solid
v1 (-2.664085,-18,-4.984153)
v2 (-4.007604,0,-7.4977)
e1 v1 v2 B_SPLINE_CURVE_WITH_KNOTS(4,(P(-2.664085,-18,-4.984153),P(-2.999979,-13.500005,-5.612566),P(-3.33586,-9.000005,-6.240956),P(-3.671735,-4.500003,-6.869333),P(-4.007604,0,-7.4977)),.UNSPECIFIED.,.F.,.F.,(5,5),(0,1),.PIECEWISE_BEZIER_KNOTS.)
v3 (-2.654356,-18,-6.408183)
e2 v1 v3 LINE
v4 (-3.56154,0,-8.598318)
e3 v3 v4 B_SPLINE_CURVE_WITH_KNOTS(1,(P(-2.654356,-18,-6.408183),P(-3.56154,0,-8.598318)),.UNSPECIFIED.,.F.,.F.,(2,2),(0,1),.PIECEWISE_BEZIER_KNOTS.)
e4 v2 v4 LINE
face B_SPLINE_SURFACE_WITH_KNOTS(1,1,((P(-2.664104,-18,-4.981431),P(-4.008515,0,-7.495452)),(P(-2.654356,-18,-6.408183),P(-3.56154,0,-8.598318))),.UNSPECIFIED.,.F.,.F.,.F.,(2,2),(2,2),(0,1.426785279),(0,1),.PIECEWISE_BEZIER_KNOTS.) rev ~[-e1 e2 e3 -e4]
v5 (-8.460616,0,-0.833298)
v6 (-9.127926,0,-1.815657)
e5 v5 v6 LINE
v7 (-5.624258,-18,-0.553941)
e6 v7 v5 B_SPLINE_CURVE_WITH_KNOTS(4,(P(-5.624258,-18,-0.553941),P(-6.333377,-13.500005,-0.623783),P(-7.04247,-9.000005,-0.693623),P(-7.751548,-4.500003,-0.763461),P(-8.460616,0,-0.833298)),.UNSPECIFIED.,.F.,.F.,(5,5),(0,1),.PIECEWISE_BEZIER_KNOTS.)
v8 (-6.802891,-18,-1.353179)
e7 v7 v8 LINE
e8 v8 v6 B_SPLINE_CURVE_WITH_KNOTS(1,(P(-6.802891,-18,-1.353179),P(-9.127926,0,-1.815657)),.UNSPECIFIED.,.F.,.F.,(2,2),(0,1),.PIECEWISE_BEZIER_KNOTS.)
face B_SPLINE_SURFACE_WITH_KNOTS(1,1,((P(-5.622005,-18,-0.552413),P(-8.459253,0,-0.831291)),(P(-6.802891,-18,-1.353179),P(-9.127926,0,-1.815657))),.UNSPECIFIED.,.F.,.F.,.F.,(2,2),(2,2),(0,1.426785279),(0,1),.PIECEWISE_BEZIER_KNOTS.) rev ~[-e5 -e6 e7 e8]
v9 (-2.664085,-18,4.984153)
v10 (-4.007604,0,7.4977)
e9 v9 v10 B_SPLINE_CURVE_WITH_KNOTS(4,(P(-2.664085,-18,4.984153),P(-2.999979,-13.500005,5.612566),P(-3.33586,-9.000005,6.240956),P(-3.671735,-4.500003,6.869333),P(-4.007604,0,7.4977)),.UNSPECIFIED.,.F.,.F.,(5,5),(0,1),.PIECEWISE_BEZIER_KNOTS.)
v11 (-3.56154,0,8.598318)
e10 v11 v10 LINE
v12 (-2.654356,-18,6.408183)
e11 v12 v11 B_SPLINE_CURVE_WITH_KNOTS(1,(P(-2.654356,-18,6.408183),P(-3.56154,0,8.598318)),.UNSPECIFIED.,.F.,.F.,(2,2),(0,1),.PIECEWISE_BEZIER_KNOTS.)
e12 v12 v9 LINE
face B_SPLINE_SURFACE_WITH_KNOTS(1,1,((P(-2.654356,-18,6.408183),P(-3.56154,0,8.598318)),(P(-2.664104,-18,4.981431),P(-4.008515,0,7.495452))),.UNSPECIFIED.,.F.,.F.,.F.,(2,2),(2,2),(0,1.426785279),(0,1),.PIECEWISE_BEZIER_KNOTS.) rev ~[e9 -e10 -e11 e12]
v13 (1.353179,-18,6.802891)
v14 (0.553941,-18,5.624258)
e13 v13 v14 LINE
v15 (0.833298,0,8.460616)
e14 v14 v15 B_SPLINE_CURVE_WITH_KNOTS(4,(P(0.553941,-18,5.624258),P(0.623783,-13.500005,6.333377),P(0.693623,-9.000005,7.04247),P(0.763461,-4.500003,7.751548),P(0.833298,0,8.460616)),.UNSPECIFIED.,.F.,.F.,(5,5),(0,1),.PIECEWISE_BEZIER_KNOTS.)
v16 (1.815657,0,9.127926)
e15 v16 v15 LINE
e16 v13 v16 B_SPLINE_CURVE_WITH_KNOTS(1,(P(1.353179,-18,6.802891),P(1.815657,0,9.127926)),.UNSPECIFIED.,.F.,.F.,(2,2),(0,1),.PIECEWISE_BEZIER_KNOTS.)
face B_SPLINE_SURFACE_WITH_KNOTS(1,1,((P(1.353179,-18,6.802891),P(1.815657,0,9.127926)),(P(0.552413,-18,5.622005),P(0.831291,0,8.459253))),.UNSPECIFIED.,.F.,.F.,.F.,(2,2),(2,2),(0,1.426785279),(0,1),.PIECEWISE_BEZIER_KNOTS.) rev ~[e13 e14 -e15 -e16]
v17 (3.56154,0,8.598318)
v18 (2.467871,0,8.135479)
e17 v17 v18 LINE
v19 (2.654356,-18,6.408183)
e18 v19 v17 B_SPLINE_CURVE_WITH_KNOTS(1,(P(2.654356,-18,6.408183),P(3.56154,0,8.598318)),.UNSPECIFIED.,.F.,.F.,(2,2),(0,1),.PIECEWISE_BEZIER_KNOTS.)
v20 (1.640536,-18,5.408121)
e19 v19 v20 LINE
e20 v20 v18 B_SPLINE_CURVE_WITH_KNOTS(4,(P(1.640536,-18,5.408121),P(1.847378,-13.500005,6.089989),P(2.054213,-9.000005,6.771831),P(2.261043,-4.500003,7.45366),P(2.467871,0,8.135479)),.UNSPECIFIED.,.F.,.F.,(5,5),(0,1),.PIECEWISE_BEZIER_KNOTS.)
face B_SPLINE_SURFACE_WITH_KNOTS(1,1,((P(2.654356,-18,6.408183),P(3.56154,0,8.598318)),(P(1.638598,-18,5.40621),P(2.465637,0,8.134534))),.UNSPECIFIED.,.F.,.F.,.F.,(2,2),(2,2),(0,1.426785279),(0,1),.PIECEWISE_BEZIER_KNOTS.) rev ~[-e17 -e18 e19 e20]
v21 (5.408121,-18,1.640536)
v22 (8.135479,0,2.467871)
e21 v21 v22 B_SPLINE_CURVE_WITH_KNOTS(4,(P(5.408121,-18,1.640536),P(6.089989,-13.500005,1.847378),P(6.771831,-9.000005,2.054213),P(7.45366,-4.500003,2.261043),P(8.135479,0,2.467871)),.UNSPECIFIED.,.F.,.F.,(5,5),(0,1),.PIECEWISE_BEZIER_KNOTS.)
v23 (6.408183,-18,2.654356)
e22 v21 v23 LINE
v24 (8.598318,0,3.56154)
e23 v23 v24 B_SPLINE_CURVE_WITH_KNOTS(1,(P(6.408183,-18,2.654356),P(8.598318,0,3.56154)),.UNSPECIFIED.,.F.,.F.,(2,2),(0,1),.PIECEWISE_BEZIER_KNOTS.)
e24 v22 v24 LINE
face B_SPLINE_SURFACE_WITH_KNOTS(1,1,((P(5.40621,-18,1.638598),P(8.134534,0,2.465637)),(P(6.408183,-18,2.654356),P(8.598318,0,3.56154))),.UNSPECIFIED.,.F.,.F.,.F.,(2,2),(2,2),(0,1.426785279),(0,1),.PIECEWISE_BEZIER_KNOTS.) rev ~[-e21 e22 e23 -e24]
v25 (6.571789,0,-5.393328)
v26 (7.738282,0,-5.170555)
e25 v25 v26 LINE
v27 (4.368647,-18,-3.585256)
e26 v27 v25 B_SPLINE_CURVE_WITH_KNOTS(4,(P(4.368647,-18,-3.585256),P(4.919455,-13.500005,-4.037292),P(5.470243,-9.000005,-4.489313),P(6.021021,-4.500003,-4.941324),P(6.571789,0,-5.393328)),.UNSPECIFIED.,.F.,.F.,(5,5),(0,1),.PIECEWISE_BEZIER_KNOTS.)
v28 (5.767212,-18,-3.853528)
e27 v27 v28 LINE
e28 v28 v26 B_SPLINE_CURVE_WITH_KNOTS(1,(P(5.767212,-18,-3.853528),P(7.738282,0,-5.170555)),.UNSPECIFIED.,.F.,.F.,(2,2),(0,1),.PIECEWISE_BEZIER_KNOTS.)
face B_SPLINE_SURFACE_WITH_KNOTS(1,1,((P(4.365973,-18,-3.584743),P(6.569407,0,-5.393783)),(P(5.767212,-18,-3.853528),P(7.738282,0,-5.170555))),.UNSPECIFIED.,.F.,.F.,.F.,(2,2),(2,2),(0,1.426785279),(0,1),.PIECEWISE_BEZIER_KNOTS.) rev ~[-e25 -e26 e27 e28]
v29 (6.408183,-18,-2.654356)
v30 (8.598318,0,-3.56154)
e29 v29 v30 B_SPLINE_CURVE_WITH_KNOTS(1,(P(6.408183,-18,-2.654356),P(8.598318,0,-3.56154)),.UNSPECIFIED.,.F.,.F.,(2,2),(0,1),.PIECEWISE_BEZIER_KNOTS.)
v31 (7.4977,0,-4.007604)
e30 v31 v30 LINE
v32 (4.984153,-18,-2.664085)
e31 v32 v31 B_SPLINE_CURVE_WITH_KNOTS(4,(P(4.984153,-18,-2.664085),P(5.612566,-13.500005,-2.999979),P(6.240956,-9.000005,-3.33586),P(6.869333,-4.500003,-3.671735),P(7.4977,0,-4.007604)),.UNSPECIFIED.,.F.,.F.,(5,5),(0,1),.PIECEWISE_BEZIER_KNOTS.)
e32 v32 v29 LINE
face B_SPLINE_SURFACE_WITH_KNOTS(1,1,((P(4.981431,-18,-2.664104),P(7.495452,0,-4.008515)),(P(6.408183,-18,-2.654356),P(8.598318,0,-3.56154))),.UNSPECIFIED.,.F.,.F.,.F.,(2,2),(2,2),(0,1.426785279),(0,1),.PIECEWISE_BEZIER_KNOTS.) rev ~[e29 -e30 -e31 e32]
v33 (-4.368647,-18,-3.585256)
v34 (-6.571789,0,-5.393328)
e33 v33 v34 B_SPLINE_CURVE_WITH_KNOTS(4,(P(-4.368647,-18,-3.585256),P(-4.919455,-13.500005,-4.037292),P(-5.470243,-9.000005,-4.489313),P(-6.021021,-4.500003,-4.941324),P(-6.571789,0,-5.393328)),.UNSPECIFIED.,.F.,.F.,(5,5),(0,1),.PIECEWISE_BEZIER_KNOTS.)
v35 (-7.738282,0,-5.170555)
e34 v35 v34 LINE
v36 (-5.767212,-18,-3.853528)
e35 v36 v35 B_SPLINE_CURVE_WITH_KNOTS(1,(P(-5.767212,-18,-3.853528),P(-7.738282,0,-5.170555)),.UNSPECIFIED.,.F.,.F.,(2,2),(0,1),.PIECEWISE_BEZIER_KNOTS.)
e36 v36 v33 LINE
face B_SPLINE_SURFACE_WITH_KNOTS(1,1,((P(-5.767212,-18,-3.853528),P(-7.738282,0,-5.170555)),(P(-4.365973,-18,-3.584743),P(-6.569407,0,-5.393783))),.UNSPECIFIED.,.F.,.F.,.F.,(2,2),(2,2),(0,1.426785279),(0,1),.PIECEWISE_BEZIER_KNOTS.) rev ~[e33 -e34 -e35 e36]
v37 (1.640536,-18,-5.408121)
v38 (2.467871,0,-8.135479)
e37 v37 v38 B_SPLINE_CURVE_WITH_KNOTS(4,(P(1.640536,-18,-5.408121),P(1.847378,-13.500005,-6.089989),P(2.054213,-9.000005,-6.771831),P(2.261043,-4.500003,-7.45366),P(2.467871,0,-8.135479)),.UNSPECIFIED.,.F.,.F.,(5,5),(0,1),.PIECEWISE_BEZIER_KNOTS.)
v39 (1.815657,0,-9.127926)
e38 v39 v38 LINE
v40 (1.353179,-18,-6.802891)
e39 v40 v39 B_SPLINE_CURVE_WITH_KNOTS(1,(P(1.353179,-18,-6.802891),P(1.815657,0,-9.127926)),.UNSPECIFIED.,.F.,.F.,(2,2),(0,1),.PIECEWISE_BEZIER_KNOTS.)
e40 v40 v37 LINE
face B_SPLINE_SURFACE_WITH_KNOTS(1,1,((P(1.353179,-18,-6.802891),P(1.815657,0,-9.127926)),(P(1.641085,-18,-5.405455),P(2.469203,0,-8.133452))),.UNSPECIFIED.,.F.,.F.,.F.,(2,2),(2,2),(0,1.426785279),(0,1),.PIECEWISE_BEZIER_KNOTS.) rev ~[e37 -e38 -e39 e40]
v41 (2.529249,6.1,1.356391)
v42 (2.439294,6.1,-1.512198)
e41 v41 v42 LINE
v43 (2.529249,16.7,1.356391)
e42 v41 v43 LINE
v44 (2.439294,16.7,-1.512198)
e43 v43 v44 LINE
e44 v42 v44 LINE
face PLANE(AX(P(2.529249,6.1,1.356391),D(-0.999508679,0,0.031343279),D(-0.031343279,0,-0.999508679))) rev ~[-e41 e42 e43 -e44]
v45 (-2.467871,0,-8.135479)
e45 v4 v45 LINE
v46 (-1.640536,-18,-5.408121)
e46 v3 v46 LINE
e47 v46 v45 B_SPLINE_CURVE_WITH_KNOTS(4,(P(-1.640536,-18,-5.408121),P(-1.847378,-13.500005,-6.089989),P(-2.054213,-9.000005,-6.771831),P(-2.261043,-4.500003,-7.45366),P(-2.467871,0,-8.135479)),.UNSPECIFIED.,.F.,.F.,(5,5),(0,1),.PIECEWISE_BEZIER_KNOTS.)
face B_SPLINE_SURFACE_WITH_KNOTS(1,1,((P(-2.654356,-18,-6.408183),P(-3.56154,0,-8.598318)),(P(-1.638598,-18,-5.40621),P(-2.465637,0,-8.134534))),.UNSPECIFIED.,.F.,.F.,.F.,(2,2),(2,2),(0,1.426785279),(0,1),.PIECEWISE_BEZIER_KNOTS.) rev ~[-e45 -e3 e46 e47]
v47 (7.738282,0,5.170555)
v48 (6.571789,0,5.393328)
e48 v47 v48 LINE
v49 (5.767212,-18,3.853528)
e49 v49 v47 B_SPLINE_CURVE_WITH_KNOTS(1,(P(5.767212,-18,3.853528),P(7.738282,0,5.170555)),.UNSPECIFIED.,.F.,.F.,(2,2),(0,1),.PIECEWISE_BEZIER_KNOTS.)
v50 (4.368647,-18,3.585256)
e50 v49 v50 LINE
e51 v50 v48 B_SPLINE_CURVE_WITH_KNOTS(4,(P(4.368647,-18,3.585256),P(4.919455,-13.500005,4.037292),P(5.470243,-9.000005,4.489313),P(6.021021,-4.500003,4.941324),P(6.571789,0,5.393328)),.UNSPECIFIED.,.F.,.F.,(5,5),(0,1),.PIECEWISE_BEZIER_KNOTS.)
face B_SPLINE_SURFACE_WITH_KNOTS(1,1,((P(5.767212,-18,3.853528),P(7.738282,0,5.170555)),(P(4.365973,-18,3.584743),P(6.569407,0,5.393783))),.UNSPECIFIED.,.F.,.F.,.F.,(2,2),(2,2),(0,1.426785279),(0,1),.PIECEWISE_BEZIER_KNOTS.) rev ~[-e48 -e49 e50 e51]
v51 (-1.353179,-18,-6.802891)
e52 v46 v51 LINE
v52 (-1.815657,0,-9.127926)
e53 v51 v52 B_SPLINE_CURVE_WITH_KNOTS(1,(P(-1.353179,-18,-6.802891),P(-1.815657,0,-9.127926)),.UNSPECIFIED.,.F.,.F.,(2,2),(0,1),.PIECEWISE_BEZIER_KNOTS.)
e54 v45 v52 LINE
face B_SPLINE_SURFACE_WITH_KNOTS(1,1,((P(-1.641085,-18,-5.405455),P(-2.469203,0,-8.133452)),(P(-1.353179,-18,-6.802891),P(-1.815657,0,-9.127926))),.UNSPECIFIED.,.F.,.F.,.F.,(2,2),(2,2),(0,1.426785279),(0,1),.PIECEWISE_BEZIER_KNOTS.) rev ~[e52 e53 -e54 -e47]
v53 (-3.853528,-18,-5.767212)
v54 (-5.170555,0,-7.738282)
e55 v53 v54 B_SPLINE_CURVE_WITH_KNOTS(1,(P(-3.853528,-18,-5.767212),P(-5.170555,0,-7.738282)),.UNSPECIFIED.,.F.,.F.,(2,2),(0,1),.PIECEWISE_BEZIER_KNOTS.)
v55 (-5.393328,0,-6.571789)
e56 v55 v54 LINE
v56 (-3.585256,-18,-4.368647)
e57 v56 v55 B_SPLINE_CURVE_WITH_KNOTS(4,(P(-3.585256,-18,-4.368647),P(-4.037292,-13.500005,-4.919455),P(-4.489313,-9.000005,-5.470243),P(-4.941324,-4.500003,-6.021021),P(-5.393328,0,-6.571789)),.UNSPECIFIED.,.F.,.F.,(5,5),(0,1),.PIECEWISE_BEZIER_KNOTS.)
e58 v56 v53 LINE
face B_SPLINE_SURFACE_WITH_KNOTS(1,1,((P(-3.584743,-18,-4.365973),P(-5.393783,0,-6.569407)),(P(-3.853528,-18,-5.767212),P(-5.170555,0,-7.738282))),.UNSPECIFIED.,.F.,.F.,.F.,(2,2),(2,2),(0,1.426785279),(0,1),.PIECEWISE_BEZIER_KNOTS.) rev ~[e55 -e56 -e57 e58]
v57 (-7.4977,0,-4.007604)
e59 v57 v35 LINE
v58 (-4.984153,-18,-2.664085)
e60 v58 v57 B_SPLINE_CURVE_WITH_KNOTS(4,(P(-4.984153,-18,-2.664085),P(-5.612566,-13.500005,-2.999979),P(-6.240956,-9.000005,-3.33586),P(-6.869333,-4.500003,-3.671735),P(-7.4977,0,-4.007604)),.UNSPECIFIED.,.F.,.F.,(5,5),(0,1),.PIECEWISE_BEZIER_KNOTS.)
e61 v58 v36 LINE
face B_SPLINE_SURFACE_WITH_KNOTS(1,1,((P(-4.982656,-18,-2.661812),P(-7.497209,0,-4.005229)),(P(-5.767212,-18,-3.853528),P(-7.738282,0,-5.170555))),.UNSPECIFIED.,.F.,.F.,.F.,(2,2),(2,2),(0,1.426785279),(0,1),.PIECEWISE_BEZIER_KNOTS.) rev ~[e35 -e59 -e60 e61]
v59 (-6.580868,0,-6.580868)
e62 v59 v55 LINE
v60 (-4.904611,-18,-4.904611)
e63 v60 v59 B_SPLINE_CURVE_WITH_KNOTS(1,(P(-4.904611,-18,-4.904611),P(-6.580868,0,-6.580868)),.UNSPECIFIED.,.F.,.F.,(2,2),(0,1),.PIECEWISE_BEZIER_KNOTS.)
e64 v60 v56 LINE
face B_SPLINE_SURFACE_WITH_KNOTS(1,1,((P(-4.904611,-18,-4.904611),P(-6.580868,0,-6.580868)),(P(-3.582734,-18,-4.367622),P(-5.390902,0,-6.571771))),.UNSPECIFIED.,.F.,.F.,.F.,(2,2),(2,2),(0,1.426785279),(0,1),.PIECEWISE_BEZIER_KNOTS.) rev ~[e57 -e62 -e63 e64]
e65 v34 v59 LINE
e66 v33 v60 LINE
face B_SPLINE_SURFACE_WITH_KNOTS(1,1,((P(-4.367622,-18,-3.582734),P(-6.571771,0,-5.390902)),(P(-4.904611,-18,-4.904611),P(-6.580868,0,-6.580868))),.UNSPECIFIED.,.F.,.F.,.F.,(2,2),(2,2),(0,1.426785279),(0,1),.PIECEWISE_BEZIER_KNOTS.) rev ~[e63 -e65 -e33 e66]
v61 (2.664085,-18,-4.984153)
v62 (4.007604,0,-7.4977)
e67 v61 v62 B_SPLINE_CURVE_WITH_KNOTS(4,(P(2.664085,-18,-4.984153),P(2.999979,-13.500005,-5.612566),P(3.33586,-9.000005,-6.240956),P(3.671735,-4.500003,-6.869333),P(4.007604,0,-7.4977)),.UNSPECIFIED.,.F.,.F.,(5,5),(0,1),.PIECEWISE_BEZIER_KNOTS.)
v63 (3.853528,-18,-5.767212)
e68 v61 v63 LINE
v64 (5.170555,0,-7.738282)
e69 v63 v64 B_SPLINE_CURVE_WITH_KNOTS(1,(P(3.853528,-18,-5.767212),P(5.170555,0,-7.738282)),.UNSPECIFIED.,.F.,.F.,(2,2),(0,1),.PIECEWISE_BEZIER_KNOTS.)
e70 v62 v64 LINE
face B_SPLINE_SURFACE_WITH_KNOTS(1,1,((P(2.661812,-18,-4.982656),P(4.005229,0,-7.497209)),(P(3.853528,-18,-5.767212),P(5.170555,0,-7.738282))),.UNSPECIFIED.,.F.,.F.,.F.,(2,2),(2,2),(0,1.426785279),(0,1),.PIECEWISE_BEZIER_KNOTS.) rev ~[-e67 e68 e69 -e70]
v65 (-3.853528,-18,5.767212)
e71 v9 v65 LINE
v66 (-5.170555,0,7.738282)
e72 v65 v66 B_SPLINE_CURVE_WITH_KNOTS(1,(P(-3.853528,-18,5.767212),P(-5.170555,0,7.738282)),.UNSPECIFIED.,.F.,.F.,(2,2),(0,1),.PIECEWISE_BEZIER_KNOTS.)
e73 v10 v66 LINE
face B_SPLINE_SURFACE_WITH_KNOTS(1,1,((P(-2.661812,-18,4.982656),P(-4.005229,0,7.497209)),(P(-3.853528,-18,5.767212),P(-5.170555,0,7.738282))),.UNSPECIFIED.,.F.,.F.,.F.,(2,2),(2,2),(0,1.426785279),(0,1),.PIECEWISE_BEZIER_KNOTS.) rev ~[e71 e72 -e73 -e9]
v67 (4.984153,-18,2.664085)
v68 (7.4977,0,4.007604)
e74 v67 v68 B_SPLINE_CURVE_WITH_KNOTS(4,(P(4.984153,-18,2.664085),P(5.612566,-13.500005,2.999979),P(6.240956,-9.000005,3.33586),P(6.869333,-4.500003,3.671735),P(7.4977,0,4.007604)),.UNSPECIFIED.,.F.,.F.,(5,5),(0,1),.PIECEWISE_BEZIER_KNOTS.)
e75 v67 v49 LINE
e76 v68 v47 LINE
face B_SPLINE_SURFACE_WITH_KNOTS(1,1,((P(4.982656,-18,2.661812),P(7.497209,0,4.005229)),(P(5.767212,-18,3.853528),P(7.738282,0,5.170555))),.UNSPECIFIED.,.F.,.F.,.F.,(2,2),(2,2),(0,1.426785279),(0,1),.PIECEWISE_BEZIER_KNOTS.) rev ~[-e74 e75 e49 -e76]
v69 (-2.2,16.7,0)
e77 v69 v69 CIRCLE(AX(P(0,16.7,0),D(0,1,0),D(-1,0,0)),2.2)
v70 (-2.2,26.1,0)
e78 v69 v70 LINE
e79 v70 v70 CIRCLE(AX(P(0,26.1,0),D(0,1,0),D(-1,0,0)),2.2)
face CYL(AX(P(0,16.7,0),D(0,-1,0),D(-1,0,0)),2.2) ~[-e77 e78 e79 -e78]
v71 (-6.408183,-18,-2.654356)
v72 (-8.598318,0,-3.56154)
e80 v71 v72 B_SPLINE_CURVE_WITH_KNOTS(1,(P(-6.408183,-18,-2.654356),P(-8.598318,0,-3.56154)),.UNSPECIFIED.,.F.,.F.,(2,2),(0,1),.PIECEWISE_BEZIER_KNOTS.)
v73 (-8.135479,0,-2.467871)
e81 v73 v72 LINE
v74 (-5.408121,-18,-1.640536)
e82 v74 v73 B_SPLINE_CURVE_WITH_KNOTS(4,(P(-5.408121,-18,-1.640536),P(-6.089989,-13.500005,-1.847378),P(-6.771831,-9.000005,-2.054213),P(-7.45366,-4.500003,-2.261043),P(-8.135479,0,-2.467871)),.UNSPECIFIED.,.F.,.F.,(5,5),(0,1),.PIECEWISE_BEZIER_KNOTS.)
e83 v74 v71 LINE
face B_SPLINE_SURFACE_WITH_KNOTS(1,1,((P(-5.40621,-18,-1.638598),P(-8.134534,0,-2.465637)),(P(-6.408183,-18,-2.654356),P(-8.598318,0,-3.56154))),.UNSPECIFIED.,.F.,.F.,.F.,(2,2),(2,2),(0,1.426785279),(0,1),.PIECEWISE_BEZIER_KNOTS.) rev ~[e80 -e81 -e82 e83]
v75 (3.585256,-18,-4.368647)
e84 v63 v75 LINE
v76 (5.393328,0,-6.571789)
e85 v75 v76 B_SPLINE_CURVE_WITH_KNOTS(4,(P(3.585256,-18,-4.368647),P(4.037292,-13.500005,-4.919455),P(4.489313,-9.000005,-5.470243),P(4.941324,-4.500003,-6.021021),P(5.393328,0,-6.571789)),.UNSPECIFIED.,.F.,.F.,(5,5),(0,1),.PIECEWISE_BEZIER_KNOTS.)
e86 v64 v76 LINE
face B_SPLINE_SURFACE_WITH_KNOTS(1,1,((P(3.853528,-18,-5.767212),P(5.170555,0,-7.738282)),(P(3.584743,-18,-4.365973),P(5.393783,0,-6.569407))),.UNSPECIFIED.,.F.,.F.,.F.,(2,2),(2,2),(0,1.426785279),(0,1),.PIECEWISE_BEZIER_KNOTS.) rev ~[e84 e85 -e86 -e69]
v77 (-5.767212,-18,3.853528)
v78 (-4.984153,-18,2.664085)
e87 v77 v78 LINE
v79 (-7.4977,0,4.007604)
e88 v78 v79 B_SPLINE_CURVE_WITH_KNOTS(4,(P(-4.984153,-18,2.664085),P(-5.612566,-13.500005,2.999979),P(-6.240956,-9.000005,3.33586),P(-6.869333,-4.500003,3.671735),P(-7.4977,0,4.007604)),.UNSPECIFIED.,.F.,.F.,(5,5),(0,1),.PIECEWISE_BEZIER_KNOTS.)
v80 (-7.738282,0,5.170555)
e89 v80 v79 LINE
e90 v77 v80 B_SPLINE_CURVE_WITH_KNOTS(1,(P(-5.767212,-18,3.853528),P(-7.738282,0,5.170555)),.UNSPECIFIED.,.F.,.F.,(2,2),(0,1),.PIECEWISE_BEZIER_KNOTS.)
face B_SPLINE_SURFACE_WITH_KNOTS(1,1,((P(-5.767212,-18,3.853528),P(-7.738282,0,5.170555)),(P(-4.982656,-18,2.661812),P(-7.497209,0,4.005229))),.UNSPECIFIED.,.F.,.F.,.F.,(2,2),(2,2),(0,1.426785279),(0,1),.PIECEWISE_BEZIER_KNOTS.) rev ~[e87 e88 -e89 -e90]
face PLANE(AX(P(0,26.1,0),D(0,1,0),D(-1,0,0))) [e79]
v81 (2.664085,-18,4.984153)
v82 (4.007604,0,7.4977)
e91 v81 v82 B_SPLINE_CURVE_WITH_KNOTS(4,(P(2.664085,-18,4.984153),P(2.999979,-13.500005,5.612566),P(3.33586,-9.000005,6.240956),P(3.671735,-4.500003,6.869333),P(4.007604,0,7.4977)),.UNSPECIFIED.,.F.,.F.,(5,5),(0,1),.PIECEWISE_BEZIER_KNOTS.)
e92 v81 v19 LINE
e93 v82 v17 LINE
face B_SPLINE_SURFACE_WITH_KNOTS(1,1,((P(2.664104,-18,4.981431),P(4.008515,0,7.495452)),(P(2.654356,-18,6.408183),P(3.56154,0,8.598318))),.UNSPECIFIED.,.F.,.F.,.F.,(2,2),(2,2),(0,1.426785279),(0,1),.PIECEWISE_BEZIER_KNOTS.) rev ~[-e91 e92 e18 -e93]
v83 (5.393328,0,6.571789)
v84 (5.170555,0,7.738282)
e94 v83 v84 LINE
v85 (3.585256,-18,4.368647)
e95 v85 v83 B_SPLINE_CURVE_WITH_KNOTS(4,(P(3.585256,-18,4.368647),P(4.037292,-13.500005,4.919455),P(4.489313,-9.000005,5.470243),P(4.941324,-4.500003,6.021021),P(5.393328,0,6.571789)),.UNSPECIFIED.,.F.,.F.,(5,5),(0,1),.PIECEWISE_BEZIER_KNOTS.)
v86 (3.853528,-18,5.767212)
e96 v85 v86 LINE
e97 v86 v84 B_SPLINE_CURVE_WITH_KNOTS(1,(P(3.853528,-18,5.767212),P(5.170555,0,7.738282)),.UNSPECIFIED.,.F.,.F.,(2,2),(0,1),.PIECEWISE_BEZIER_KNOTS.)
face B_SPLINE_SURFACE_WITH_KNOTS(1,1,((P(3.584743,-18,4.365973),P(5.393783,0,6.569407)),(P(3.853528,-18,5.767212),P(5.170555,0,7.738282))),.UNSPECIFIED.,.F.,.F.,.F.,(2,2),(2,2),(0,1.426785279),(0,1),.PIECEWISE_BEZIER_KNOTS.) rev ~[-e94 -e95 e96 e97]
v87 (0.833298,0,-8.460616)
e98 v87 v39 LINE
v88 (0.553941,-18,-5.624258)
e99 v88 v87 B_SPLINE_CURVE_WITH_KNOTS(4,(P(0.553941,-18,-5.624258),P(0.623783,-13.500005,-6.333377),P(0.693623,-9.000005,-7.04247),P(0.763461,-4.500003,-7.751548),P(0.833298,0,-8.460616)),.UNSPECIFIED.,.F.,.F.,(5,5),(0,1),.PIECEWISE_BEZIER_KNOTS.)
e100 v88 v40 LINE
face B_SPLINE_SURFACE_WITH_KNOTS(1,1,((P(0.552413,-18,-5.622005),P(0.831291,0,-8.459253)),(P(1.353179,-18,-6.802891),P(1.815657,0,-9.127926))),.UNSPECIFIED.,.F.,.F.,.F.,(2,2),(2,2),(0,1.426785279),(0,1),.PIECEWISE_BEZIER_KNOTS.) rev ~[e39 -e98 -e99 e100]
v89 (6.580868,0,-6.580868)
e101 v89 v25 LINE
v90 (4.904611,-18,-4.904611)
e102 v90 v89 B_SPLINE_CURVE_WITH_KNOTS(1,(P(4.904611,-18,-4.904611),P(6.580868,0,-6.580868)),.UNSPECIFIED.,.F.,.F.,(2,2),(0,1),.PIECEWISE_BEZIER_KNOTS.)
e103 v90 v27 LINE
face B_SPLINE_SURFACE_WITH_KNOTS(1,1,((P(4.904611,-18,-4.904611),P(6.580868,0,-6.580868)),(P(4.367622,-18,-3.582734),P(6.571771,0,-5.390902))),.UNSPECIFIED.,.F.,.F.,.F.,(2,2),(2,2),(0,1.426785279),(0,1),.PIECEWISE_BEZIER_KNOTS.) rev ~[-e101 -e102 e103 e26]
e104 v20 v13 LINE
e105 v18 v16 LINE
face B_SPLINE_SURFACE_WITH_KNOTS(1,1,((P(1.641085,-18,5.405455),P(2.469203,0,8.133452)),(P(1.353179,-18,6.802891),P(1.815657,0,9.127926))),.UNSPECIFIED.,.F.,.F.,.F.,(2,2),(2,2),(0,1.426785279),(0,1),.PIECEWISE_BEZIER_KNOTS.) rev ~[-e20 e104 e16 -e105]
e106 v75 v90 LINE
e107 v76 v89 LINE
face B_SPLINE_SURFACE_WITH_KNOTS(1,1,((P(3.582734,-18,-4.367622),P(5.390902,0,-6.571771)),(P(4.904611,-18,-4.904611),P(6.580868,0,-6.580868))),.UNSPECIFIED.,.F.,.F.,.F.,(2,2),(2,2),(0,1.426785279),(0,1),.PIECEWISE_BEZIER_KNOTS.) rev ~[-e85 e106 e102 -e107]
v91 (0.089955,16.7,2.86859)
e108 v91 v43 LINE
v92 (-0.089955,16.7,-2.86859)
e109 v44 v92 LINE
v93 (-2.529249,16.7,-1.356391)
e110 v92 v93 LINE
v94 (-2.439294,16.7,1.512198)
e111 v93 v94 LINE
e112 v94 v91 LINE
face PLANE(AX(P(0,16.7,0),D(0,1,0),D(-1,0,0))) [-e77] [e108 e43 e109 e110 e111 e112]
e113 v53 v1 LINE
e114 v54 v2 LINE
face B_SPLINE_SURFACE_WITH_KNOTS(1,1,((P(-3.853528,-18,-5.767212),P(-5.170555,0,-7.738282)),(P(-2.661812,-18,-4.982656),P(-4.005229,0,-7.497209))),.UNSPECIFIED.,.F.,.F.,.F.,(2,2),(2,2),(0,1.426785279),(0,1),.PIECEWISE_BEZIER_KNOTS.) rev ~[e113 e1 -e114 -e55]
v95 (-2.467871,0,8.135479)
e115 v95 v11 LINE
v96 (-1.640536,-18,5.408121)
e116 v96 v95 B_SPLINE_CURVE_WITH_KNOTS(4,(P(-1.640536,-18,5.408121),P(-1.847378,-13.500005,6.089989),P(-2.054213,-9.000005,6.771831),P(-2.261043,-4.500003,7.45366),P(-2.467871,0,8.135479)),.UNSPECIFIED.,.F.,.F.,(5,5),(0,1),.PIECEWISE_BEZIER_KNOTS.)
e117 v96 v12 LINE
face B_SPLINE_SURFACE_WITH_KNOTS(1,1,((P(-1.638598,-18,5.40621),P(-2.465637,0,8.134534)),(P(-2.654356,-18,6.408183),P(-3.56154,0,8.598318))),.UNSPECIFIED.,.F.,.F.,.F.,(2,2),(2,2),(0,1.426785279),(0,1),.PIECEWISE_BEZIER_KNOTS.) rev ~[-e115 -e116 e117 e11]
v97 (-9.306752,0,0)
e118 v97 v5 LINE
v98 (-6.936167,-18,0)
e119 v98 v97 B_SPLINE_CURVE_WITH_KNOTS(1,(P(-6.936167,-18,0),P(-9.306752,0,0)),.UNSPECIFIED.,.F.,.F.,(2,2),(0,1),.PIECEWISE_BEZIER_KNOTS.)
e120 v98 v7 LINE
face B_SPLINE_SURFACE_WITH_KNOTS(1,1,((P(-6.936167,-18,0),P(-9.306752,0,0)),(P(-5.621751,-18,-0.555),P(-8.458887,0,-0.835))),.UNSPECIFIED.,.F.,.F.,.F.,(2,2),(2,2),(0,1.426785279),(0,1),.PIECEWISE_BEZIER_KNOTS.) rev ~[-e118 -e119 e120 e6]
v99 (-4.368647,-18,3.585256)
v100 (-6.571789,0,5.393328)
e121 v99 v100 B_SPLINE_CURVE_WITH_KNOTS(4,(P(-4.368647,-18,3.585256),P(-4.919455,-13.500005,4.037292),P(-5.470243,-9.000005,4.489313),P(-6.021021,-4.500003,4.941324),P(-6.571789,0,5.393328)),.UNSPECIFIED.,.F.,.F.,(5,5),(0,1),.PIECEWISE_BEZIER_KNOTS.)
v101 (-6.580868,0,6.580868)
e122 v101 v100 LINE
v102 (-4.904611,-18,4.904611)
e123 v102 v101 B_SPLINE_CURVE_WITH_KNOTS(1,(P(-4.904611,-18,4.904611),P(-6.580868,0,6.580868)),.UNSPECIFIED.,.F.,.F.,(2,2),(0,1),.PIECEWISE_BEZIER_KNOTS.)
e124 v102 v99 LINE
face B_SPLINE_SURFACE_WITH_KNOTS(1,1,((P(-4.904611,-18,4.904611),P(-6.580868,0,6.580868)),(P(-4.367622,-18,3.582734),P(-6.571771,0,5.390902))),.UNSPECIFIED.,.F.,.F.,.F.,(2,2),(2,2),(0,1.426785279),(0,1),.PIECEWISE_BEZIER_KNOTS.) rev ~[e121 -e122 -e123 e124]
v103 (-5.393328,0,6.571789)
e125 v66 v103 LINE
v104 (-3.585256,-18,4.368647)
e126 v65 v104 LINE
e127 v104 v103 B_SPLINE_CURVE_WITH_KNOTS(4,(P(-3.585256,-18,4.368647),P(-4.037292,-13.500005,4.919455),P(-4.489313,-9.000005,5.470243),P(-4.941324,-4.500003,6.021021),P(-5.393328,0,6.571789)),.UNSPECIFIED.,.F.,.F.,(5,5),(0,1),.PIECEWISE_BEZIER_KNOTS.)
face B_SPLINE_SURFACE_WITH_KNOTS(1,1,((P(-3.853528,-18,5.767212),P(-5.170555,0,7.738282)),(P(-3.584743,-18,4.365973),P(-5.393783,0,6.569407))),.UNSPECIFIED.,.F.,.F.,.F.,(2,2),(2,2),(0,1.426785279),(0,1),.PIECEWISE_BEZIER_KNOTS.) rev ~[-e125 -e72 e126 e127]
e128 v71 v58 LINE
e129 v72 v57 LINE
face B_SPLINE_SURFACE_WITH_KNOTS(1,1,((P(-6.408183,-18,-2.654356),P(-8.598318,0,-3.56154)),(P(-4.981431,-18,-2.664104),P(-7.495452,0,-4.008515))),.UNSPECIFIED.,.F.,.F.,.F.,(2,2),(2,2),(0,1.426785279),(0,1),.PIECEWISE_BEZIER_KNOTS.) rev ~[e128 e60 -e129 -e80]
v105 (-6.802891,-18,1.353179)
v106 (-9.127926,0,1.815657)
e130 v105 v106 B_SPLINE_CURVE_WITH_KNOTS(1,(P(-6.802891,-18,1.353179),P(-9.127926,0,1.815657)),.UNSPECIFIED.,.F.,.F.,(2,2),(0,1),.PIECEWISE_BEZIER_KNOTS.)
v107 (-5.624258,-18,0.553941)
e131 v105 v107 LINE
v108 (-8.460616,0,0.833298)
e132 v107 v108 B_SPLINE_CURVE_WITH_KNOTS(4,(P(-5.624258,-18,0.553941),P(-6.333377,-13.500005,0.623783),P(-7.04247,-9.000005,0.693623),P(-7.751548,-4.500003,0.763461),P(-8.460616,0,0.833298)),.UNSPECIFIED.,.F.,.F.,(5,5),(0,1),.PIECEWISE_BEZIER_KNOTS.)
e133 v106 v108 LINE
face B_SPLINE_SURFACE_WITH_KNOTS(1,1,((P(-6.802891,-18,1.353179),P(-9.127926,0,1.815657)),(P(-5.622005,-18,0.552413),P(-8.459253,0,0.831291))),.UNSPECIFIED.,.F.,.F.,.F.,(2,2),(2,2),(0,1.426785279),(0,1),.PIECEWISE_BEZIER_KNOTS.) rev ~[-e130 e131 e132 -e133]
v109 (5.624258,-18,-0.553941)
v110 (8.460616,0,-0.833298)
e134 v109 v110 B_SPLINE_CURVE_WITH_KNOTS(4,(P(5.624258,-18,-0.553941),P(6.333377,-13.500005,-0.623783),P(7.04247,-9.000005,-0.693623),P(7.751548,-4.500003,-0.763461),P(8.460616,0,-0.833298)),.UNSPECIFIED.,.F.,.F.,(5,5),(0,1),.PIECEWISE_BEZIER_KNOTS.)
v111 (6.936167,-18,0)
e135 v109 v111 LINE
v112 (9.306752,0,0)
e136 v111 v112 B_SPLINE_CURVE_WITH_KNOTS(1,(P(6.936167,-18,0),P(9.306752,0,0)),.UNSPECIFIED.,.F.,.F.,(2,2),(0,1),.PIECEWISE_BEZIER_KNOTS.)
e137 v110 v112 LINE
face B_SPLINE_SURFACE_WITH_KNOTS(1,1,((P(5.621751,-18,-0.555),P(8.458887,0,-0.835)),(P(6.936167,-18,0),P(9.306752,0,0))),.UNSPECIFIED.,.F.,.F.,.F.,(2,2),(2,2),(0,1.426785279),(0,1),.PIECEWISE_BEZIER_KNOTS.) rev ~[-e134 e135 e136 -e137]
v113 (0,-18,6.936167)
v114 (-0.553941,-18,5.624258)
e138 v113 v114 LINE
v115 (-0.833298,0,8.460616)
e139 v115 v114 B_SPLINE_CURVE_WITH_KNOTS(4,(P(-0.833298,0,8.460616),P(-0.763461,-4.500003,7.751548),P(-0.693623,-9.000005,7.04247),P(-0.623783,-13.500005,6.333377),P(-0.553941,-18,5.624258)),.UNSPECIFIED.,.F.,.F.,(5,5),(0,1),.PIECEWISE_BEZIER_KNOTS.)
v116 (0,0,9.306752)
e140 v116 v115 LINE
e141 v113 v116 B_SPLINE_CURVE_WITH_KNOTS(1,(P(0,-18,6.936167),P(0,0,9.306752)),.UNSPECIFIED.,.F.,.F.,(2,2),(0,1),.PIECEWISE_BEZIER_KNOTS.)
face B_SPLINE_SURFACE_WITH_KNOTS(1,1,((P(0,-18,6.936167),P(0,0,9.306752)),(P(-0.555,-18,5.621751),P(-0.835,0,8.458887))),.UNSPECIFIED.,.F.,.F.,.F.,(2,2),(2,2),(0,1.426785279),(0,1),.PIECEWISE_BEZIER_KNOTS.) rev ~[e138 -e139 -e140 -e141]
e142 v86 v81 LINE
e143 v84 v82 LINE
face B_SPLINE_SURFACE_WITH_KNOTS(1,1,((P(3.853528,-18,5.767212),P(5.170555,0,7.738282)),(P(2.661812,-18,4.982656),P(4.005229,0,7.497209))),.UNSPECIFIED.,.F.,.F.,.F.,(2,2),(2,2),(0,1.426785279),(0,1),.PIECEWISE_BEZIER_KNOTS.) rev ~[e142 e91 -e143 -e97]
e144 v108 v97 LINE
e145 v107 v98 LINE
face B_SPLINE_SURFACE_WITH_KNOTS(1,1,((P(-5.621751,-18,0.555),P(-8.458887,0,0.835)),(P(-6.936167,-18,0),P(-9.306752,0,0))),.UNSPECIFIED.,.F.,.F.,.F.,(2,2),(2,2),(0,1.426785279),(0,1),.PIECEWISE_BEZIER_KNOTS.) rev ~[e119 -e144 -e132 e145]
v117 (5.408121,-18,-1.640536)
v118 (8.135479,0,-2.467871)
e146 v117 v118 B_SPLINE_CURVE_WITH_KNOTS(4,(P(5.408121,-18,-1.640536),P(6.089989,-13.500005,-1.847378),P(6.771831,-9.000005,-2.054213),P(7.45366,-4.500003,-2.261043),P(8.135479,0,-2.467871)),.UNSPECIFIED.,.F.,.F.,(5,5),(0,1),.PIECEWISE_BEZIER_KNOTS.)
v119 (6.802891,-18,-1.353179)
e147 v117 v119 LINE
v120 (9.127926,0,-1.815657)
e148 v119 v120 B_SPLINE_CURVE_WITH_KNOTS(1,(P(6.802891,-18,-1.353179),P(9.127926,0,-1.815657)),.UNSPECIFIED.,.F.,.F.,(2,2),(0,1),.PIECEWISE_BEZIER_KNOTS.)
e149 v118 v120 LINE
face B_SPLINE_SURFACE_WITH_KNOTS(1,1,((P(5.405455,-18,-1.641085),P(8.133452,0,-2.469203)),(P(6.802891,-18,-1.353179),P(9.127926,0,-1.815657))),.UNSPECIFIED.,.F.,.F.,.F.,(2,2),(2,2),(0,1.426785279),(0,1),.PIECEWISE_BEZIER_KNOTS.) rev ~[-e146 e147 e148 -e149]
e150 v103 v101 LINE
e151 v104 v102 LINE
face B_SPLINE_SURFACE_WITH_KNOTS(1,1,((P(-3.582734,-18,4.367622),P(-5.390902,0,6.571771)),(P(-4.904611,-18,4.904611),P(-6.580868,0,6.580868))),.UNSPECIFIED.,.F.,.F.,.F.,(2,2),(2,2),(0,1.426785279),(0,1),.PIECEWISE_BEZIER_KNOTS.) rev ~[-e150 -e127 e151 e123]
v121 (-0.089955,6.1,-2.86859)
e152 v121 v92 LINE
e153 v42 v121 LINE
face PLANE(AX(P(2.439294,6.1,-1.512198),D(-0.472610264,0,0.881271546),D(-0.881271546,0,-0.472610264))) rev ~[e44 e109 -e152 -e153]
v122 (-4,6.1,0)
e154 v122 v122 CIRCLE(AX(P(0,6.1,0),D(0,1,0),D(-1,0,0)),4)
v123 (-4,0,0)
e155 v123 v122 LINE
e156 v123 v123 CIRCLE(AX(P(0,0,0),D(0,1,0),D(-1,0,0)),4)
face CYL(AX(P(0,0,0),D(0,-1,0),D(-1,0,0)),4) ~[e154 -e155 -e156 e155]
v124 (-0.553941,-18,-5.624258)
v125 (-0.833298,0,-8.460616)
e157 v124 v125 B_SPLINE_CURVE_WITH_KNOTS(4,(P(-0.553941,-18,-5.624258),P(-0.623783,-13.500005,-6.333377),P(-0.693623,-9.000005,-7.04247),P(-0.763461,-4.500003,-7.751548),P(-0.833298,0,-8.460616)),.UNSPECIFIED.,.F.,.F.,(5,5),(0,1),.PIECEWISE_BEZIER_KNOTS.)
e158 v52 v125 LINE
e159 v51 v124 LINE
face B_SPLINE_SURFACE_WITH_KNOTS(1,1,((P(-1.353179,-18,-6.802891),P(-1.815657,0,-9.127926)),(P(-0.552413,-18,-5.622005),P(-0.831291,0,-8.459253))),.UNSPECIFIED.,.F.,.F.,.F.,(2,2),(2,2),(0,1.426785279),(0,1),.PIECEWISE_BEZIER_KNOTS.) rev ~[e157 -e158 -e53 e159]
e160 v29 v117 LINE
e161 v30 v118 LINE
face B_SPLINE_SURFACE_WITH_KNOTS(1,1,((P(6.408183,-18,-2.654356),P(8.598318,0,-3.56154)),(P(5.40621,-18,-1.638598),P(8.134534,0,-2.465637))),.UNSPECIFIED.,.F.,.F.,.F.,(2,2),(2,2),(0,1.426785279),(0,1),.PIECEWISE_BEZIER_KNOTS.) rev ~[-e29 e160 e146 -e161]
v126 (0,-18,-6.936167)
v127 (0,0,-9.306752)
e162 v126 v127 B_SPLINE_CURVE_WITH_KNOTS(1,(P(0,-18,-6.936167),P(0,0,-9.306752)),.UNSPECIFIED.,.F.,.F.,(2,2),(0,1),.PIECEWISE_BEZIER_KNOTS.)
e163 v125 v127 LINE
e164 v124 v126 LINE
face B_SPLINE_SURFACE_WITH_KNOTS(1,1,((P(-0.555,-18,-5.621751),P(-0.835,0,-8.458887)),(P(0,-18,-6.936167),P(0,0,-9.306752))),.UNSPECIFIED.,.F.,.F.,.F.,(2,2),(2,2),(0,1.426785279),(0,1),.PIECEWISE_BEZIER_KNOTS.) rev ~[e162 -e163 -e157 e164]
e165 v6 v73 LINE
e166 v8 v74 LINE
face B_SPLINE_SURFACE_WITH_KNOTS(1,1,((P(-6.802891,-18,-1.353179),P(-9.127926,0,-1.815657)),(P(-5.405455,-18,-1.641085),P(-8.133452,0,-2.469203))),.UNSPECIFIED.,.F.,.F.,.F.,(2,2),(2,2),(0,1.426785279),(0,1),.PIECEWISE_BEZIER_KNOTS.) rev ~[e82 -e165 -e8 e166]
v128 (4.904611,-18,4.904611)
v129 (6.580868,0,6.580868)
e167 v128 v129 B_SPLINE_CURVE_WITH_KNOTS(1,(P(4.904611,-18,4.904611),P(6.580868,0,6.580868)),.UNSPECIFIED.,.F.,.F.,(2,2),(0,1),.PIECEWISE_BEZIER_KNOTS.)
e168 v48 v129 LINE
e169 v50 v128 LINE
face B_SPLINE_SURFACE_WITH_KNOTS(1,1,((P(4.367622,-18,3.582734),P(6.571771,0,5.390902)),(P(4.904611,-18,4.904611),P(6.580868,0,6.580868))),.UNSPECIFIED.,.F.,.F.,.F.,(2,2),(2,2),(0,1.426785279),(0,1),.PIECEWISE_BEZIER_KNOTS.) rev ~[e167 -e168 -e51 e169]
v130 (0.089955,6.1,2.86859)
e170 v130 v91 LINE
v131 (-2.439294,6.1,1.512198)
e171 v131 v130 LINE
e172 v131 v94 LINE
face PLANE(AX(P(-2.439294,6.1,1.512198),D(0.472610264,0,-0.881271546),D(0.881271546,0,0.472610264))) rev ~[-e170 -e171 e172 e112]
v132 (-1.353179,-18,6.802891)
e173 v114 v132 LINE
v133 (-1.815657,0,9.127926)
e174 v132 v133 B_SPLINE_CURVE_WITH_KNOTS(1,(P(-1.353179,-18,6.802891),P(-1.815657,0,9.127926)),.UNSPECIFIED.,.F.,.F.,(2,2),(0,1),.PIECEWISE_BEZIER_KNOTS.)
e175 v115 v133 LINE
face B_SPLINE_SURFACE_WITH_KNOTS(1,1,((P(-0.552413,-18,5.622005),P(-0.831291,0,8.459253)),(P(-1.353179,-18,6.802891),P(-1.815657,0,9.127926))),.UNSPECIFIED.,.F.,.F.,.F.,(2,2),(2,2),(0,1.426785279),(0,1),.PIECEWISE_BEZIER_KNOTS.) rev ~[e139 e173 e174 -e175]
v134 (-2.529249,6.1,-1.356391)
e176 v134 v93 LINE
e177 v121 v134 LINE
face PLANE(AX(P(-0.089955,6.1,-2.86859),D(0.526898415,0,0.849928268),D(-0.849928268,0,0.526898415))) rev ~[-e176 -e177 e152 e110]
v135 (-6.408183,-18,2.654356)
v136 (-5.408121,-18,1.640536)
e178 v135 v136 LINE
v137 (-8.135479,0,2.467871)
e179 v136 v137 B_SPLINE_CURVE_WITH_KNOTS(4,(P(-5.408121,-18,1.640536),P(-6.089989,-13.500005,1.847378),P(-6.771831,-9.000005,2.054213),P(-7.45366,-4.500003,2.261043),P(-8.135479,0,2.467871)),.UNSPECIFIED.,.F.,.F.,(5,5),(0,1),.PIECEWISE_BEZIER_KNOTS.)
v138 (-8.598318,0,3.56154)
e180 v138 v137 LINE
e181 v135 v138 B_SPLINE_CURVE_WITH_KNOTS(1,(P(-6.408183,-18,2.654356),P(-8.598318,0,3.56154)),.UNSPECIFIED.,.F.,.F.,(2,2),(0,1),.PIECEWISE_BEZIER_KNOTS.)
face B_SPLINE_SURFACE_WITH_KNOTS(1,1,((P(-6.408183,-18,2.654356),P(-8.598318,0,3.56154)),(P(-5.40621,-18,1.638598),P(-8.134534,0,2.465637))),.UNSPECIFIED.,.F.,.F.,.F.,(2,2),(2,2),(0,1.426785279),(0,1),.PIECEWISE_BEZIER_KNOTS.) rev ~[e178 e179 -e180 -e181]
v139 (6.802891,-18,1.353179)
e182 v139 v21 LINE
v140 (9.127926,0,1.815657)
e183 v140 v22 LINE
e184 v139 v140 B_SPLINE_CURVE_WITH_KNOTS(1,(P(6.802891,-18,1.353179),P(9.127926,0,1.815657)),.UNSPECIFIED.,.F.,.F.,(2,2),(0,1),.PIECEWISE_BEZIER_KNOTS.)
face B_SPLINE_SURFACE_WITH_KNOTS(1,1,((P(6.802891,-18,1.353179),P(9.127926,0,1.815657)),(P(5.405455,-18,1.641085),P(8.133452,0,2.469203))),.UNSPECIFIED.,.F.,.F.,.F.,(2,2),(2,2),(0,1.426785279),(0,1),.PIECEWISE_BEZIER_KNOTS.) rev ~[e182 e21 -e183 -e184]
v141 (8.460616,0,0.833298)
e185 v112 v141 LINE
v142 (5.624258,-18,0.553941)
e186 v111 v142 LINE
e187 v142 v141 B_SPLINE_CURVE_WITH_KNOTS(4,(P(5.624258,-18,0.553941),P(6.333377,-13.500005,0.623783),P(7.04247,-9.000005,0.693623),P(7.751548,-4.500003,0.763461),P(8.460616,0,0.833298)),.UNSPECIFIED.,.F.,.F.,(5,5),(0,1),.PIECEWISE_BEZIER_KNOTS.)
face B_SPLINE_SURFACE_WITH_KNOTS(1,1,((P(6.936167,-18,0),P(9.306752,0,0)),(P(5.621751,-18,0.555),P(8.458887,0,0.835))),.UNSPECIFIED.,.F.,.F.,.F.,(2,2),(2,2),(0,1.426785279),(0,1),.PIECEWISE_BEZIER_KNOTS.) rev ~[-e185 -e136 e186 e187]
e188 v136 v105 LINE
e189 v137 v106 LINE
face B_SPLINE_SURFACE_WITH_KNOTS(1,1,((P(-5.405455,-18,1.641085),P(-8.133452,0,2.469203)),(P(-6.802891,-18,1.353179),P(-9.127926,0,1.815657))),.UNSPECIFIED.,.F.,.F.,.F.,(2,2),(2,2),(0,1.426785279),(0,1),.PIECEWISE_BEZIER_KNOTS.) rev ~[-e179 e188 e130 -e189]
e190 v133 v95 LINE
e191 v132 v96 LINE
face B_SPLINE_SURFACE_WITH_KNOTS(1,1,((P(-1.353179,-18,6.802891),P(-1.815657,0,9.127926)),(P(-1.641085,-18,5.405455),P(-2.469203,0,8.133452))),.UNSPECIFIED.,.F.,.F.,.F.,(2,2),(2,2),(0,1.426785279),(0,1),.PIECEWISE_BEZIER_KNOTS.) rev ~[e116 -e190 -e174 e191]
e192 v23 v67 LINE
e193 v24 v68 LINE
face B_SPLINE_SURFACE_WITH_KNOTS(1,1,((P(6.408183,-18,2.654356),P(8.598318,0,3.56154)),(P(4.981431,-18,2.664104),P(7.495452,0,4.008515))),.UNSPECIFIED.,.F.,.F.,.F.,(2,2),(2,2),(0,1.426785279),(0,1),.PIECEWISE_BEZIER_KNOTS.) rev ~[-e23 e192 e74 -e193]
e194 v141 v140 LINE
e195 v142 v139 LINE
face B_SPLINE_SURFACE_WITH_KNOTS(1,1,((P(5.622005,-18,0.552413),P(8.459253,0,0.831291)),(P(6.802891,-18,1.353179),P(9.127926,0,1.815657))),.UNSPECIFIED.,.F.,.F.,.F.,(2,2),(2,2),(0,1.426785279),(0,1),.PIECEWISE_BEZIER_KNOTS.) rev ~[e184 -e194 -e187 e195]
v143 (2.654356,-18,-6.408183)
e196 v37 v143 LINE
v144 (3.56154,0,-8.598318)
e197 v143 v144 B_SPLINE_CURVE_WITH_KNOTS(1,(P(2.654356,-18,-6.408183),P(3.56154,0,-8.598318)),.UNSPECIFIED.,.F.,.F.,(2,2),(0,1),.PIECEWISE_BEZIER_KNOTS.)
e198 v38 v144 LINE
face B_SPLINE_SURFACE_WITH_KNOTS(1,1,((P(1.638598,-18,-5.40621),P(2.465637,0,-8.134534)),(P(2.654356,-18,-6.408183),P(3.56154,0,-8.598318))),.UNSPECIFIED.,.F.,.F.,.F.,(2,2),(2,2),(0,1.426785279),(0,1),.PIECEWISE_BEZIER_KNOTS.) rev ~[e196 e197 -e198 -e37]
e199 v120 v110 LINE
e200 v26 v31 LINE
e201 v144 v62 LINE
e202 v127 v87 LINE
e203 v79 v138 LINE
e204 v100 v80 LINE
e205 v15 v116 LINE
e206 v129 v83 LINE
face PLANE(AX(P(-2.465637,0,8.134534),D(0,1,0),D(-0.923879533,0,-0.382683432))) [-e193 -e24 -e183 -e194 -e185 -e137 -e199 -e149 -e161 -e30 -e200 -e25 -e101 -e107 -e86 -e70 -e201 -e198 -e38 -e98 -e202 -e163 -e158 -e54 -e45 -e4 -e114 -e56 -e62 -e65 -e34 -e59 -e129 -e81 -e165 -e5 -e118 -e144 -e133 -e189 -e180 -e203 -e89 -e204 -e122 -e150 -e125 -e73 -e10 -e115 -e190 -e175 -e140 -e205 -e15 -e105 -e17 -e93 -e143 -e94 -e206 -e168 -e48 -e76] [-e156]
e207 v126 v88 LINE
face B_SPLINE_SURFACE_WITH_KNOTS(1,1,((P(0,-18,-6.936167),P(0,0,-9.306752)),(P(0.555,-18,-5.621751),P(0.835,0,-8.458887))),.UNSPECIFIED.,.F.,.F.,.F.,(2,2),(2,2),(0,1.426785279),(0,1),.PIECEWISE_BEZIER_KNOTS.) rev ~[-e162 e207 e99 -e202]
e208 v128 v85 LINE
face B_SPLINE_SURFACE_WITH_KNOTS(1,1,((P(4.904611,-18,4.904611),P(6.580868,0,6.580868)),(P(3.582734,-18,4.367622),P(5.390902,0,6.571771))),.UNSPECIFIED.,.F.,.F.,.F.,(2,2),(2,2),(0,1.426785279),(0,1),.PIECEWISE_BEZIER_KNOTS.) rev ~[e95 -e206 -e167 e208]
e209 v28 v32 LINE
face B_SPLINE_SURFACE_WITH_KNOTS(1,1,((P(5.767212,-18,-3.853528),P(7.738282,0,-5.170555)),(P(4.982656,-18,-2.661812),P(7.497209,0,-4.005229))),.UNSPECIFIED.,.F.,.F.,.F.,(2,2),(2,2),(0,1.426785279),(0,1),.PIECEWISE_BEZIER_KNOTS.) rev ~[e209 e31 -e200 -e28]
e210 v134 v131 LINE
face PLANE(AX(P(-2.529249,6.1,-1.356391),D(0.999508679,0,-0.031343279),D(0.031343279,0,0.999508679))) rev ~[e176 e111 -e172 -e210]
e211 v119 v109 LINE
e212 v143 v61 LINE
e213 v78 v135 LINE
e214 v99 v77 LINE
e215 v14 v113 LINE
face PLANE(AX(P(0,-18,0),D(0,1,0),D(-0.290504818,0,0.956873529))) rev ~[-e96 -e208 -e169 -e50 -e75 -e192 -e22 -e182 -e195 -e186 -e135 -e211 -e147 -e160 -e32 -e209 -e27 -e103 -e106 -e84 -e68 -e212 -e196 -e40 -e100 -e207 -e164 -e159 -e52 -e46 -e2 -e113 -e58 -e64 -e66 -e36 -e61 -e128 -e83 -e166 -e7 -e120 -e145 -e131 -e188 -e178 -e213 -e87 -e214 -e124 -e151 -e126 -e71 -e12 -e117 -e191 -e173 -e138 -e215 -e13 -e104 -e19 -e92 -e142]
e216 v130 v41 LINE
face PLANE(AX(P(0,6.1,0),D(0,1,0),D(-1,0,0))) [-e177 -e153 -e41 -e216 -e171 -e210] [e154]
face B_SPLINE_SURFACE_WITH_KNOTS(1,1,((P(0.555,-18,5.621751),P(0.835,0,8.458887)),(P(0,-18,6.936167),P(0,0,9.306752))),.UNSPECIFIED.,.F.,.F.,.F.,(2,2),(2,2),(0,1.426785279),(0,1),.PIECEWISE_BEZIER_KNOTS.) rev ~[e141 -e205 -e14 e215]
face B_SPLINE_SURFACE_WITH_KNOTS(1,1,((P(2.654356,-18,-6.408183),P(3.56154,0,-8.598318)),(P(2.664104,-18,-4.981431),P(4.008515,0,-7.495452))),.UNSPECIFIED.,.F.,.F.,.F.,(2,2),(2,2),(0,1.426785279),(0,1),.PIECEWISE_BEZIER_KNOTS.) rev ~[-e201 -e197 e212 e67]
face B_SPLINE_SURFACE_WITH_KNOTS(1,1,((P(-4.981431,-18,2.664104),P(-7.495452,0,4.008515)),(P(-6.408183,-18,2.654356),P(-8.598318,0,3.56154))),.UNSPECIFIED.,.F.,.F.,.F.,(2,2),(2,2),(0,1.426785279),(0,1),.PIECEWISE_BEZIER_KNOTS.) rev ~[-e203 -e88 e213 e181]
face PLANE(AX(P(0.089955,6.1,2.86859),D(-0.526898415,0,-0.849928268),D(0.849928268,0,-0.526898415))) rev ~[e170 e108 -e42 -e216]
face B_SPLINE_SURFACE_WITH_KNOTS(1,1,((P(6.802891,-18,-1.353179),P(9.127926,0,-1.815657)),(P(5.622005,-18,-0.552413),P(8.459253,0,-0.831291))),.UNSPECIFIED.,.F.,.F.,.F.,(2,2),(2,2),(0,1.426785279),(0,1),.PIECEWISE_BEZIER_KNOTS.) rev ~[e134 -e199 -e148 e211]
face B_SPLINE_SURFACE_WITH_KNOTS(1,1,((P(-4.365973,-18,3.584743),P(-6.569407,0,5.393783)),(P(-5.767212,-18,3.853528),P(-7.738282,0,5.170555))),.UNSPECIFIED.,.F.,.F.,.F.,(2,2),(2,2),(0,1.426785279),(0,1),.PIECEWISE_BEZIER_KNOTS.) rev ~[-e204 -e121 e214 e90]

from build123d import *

# Parameters (mm, degrees)
F0_R      = 8.5
F1_DEPTH  = 18
F1_TAPER  = 9
F2_R      = 4
F3_DEPTH  = 6.1
F5_DEPTH  = 10.6
F6_R      = 2.2
F7_DEPTH  = 9.4
F11_COUNT = 32


with BuildPart() as f1:
    # F0 (on Front) → F1 (new body)
    with BuildSketch(Plane.XZ):
        Circle(F0_R)
    extrude(amount=F1_DEPTH, taper=F1_TAPER)

    # F2 (on face) → F3 (join)
    with BuildSketch(Plane(origin=(0, 0, 0), x_dir=(-1, 0, 0), z_dir=(0, 1, 0))):
        Circle(F2_R)
    extrude(amount=F3_DEPTH)

    # F4 (on face) → F5 (join)
    with BuildSketch(Plane(origin=(0, 6.1, 0), x_dir=(-1, 0, 0), z_dir=(0, 1, 0))):
        Polygon((-0.0899552099, 2.868589908), (-2.5292493383, 1.356391457), (-2.4392941284, -1.512198451), (0.0899552099, -2.868589908), (2.5292493383, -1.356391457), (2.4392941284, 1.512198451), align=None)
    extrude(amount=F5_DEPTH)

    # F6 (on face) → F7 (join)
    with BuildSketch(Plane(origin=(0, 16.7, 0), x_dir=(-1, 0, 0), z_dir=(0, 1, 0))):
        Circle(F6_R)
    extrude(amount=F7_DEPTH)



with BuildPart() as f10:
    # F9 (on face) → F10 section 0
    with BuildSketch(Plane.XZ.offset(18)):
        with BuildLine():
            Line((0.555, 5.6217506779), (0, 6.9361673668))
            Line((0, 6.9361673668), (-0.555, 5.6217506779))
            ThreePointArc((-0.555, 5.6217506779), (0, 5.6490800742), (0.555, 5.6217506779))
        make_face()
    # F8 (on Front) → F10 section 1
    with BuildSketch(Plane.XZ):
        Polygon((0.835, 8.4588873382), (0, 9.3067523038), (-0.835, 8.4588873382), align=None)
    loft()


with BuildPart() as f1_1:
    add(f1.part)

    add(f10.part)  # F11 merges F10
    # F11: F10 ×32 about axis
    f11_axis = Axis((0, -18, 0), (0, 1, 0))
    for i in range(1, F11_COUNT):
        add(f10.part.rotate(f11_axis, i * 360 / F11_COUNT))


solid = f1_1.part
